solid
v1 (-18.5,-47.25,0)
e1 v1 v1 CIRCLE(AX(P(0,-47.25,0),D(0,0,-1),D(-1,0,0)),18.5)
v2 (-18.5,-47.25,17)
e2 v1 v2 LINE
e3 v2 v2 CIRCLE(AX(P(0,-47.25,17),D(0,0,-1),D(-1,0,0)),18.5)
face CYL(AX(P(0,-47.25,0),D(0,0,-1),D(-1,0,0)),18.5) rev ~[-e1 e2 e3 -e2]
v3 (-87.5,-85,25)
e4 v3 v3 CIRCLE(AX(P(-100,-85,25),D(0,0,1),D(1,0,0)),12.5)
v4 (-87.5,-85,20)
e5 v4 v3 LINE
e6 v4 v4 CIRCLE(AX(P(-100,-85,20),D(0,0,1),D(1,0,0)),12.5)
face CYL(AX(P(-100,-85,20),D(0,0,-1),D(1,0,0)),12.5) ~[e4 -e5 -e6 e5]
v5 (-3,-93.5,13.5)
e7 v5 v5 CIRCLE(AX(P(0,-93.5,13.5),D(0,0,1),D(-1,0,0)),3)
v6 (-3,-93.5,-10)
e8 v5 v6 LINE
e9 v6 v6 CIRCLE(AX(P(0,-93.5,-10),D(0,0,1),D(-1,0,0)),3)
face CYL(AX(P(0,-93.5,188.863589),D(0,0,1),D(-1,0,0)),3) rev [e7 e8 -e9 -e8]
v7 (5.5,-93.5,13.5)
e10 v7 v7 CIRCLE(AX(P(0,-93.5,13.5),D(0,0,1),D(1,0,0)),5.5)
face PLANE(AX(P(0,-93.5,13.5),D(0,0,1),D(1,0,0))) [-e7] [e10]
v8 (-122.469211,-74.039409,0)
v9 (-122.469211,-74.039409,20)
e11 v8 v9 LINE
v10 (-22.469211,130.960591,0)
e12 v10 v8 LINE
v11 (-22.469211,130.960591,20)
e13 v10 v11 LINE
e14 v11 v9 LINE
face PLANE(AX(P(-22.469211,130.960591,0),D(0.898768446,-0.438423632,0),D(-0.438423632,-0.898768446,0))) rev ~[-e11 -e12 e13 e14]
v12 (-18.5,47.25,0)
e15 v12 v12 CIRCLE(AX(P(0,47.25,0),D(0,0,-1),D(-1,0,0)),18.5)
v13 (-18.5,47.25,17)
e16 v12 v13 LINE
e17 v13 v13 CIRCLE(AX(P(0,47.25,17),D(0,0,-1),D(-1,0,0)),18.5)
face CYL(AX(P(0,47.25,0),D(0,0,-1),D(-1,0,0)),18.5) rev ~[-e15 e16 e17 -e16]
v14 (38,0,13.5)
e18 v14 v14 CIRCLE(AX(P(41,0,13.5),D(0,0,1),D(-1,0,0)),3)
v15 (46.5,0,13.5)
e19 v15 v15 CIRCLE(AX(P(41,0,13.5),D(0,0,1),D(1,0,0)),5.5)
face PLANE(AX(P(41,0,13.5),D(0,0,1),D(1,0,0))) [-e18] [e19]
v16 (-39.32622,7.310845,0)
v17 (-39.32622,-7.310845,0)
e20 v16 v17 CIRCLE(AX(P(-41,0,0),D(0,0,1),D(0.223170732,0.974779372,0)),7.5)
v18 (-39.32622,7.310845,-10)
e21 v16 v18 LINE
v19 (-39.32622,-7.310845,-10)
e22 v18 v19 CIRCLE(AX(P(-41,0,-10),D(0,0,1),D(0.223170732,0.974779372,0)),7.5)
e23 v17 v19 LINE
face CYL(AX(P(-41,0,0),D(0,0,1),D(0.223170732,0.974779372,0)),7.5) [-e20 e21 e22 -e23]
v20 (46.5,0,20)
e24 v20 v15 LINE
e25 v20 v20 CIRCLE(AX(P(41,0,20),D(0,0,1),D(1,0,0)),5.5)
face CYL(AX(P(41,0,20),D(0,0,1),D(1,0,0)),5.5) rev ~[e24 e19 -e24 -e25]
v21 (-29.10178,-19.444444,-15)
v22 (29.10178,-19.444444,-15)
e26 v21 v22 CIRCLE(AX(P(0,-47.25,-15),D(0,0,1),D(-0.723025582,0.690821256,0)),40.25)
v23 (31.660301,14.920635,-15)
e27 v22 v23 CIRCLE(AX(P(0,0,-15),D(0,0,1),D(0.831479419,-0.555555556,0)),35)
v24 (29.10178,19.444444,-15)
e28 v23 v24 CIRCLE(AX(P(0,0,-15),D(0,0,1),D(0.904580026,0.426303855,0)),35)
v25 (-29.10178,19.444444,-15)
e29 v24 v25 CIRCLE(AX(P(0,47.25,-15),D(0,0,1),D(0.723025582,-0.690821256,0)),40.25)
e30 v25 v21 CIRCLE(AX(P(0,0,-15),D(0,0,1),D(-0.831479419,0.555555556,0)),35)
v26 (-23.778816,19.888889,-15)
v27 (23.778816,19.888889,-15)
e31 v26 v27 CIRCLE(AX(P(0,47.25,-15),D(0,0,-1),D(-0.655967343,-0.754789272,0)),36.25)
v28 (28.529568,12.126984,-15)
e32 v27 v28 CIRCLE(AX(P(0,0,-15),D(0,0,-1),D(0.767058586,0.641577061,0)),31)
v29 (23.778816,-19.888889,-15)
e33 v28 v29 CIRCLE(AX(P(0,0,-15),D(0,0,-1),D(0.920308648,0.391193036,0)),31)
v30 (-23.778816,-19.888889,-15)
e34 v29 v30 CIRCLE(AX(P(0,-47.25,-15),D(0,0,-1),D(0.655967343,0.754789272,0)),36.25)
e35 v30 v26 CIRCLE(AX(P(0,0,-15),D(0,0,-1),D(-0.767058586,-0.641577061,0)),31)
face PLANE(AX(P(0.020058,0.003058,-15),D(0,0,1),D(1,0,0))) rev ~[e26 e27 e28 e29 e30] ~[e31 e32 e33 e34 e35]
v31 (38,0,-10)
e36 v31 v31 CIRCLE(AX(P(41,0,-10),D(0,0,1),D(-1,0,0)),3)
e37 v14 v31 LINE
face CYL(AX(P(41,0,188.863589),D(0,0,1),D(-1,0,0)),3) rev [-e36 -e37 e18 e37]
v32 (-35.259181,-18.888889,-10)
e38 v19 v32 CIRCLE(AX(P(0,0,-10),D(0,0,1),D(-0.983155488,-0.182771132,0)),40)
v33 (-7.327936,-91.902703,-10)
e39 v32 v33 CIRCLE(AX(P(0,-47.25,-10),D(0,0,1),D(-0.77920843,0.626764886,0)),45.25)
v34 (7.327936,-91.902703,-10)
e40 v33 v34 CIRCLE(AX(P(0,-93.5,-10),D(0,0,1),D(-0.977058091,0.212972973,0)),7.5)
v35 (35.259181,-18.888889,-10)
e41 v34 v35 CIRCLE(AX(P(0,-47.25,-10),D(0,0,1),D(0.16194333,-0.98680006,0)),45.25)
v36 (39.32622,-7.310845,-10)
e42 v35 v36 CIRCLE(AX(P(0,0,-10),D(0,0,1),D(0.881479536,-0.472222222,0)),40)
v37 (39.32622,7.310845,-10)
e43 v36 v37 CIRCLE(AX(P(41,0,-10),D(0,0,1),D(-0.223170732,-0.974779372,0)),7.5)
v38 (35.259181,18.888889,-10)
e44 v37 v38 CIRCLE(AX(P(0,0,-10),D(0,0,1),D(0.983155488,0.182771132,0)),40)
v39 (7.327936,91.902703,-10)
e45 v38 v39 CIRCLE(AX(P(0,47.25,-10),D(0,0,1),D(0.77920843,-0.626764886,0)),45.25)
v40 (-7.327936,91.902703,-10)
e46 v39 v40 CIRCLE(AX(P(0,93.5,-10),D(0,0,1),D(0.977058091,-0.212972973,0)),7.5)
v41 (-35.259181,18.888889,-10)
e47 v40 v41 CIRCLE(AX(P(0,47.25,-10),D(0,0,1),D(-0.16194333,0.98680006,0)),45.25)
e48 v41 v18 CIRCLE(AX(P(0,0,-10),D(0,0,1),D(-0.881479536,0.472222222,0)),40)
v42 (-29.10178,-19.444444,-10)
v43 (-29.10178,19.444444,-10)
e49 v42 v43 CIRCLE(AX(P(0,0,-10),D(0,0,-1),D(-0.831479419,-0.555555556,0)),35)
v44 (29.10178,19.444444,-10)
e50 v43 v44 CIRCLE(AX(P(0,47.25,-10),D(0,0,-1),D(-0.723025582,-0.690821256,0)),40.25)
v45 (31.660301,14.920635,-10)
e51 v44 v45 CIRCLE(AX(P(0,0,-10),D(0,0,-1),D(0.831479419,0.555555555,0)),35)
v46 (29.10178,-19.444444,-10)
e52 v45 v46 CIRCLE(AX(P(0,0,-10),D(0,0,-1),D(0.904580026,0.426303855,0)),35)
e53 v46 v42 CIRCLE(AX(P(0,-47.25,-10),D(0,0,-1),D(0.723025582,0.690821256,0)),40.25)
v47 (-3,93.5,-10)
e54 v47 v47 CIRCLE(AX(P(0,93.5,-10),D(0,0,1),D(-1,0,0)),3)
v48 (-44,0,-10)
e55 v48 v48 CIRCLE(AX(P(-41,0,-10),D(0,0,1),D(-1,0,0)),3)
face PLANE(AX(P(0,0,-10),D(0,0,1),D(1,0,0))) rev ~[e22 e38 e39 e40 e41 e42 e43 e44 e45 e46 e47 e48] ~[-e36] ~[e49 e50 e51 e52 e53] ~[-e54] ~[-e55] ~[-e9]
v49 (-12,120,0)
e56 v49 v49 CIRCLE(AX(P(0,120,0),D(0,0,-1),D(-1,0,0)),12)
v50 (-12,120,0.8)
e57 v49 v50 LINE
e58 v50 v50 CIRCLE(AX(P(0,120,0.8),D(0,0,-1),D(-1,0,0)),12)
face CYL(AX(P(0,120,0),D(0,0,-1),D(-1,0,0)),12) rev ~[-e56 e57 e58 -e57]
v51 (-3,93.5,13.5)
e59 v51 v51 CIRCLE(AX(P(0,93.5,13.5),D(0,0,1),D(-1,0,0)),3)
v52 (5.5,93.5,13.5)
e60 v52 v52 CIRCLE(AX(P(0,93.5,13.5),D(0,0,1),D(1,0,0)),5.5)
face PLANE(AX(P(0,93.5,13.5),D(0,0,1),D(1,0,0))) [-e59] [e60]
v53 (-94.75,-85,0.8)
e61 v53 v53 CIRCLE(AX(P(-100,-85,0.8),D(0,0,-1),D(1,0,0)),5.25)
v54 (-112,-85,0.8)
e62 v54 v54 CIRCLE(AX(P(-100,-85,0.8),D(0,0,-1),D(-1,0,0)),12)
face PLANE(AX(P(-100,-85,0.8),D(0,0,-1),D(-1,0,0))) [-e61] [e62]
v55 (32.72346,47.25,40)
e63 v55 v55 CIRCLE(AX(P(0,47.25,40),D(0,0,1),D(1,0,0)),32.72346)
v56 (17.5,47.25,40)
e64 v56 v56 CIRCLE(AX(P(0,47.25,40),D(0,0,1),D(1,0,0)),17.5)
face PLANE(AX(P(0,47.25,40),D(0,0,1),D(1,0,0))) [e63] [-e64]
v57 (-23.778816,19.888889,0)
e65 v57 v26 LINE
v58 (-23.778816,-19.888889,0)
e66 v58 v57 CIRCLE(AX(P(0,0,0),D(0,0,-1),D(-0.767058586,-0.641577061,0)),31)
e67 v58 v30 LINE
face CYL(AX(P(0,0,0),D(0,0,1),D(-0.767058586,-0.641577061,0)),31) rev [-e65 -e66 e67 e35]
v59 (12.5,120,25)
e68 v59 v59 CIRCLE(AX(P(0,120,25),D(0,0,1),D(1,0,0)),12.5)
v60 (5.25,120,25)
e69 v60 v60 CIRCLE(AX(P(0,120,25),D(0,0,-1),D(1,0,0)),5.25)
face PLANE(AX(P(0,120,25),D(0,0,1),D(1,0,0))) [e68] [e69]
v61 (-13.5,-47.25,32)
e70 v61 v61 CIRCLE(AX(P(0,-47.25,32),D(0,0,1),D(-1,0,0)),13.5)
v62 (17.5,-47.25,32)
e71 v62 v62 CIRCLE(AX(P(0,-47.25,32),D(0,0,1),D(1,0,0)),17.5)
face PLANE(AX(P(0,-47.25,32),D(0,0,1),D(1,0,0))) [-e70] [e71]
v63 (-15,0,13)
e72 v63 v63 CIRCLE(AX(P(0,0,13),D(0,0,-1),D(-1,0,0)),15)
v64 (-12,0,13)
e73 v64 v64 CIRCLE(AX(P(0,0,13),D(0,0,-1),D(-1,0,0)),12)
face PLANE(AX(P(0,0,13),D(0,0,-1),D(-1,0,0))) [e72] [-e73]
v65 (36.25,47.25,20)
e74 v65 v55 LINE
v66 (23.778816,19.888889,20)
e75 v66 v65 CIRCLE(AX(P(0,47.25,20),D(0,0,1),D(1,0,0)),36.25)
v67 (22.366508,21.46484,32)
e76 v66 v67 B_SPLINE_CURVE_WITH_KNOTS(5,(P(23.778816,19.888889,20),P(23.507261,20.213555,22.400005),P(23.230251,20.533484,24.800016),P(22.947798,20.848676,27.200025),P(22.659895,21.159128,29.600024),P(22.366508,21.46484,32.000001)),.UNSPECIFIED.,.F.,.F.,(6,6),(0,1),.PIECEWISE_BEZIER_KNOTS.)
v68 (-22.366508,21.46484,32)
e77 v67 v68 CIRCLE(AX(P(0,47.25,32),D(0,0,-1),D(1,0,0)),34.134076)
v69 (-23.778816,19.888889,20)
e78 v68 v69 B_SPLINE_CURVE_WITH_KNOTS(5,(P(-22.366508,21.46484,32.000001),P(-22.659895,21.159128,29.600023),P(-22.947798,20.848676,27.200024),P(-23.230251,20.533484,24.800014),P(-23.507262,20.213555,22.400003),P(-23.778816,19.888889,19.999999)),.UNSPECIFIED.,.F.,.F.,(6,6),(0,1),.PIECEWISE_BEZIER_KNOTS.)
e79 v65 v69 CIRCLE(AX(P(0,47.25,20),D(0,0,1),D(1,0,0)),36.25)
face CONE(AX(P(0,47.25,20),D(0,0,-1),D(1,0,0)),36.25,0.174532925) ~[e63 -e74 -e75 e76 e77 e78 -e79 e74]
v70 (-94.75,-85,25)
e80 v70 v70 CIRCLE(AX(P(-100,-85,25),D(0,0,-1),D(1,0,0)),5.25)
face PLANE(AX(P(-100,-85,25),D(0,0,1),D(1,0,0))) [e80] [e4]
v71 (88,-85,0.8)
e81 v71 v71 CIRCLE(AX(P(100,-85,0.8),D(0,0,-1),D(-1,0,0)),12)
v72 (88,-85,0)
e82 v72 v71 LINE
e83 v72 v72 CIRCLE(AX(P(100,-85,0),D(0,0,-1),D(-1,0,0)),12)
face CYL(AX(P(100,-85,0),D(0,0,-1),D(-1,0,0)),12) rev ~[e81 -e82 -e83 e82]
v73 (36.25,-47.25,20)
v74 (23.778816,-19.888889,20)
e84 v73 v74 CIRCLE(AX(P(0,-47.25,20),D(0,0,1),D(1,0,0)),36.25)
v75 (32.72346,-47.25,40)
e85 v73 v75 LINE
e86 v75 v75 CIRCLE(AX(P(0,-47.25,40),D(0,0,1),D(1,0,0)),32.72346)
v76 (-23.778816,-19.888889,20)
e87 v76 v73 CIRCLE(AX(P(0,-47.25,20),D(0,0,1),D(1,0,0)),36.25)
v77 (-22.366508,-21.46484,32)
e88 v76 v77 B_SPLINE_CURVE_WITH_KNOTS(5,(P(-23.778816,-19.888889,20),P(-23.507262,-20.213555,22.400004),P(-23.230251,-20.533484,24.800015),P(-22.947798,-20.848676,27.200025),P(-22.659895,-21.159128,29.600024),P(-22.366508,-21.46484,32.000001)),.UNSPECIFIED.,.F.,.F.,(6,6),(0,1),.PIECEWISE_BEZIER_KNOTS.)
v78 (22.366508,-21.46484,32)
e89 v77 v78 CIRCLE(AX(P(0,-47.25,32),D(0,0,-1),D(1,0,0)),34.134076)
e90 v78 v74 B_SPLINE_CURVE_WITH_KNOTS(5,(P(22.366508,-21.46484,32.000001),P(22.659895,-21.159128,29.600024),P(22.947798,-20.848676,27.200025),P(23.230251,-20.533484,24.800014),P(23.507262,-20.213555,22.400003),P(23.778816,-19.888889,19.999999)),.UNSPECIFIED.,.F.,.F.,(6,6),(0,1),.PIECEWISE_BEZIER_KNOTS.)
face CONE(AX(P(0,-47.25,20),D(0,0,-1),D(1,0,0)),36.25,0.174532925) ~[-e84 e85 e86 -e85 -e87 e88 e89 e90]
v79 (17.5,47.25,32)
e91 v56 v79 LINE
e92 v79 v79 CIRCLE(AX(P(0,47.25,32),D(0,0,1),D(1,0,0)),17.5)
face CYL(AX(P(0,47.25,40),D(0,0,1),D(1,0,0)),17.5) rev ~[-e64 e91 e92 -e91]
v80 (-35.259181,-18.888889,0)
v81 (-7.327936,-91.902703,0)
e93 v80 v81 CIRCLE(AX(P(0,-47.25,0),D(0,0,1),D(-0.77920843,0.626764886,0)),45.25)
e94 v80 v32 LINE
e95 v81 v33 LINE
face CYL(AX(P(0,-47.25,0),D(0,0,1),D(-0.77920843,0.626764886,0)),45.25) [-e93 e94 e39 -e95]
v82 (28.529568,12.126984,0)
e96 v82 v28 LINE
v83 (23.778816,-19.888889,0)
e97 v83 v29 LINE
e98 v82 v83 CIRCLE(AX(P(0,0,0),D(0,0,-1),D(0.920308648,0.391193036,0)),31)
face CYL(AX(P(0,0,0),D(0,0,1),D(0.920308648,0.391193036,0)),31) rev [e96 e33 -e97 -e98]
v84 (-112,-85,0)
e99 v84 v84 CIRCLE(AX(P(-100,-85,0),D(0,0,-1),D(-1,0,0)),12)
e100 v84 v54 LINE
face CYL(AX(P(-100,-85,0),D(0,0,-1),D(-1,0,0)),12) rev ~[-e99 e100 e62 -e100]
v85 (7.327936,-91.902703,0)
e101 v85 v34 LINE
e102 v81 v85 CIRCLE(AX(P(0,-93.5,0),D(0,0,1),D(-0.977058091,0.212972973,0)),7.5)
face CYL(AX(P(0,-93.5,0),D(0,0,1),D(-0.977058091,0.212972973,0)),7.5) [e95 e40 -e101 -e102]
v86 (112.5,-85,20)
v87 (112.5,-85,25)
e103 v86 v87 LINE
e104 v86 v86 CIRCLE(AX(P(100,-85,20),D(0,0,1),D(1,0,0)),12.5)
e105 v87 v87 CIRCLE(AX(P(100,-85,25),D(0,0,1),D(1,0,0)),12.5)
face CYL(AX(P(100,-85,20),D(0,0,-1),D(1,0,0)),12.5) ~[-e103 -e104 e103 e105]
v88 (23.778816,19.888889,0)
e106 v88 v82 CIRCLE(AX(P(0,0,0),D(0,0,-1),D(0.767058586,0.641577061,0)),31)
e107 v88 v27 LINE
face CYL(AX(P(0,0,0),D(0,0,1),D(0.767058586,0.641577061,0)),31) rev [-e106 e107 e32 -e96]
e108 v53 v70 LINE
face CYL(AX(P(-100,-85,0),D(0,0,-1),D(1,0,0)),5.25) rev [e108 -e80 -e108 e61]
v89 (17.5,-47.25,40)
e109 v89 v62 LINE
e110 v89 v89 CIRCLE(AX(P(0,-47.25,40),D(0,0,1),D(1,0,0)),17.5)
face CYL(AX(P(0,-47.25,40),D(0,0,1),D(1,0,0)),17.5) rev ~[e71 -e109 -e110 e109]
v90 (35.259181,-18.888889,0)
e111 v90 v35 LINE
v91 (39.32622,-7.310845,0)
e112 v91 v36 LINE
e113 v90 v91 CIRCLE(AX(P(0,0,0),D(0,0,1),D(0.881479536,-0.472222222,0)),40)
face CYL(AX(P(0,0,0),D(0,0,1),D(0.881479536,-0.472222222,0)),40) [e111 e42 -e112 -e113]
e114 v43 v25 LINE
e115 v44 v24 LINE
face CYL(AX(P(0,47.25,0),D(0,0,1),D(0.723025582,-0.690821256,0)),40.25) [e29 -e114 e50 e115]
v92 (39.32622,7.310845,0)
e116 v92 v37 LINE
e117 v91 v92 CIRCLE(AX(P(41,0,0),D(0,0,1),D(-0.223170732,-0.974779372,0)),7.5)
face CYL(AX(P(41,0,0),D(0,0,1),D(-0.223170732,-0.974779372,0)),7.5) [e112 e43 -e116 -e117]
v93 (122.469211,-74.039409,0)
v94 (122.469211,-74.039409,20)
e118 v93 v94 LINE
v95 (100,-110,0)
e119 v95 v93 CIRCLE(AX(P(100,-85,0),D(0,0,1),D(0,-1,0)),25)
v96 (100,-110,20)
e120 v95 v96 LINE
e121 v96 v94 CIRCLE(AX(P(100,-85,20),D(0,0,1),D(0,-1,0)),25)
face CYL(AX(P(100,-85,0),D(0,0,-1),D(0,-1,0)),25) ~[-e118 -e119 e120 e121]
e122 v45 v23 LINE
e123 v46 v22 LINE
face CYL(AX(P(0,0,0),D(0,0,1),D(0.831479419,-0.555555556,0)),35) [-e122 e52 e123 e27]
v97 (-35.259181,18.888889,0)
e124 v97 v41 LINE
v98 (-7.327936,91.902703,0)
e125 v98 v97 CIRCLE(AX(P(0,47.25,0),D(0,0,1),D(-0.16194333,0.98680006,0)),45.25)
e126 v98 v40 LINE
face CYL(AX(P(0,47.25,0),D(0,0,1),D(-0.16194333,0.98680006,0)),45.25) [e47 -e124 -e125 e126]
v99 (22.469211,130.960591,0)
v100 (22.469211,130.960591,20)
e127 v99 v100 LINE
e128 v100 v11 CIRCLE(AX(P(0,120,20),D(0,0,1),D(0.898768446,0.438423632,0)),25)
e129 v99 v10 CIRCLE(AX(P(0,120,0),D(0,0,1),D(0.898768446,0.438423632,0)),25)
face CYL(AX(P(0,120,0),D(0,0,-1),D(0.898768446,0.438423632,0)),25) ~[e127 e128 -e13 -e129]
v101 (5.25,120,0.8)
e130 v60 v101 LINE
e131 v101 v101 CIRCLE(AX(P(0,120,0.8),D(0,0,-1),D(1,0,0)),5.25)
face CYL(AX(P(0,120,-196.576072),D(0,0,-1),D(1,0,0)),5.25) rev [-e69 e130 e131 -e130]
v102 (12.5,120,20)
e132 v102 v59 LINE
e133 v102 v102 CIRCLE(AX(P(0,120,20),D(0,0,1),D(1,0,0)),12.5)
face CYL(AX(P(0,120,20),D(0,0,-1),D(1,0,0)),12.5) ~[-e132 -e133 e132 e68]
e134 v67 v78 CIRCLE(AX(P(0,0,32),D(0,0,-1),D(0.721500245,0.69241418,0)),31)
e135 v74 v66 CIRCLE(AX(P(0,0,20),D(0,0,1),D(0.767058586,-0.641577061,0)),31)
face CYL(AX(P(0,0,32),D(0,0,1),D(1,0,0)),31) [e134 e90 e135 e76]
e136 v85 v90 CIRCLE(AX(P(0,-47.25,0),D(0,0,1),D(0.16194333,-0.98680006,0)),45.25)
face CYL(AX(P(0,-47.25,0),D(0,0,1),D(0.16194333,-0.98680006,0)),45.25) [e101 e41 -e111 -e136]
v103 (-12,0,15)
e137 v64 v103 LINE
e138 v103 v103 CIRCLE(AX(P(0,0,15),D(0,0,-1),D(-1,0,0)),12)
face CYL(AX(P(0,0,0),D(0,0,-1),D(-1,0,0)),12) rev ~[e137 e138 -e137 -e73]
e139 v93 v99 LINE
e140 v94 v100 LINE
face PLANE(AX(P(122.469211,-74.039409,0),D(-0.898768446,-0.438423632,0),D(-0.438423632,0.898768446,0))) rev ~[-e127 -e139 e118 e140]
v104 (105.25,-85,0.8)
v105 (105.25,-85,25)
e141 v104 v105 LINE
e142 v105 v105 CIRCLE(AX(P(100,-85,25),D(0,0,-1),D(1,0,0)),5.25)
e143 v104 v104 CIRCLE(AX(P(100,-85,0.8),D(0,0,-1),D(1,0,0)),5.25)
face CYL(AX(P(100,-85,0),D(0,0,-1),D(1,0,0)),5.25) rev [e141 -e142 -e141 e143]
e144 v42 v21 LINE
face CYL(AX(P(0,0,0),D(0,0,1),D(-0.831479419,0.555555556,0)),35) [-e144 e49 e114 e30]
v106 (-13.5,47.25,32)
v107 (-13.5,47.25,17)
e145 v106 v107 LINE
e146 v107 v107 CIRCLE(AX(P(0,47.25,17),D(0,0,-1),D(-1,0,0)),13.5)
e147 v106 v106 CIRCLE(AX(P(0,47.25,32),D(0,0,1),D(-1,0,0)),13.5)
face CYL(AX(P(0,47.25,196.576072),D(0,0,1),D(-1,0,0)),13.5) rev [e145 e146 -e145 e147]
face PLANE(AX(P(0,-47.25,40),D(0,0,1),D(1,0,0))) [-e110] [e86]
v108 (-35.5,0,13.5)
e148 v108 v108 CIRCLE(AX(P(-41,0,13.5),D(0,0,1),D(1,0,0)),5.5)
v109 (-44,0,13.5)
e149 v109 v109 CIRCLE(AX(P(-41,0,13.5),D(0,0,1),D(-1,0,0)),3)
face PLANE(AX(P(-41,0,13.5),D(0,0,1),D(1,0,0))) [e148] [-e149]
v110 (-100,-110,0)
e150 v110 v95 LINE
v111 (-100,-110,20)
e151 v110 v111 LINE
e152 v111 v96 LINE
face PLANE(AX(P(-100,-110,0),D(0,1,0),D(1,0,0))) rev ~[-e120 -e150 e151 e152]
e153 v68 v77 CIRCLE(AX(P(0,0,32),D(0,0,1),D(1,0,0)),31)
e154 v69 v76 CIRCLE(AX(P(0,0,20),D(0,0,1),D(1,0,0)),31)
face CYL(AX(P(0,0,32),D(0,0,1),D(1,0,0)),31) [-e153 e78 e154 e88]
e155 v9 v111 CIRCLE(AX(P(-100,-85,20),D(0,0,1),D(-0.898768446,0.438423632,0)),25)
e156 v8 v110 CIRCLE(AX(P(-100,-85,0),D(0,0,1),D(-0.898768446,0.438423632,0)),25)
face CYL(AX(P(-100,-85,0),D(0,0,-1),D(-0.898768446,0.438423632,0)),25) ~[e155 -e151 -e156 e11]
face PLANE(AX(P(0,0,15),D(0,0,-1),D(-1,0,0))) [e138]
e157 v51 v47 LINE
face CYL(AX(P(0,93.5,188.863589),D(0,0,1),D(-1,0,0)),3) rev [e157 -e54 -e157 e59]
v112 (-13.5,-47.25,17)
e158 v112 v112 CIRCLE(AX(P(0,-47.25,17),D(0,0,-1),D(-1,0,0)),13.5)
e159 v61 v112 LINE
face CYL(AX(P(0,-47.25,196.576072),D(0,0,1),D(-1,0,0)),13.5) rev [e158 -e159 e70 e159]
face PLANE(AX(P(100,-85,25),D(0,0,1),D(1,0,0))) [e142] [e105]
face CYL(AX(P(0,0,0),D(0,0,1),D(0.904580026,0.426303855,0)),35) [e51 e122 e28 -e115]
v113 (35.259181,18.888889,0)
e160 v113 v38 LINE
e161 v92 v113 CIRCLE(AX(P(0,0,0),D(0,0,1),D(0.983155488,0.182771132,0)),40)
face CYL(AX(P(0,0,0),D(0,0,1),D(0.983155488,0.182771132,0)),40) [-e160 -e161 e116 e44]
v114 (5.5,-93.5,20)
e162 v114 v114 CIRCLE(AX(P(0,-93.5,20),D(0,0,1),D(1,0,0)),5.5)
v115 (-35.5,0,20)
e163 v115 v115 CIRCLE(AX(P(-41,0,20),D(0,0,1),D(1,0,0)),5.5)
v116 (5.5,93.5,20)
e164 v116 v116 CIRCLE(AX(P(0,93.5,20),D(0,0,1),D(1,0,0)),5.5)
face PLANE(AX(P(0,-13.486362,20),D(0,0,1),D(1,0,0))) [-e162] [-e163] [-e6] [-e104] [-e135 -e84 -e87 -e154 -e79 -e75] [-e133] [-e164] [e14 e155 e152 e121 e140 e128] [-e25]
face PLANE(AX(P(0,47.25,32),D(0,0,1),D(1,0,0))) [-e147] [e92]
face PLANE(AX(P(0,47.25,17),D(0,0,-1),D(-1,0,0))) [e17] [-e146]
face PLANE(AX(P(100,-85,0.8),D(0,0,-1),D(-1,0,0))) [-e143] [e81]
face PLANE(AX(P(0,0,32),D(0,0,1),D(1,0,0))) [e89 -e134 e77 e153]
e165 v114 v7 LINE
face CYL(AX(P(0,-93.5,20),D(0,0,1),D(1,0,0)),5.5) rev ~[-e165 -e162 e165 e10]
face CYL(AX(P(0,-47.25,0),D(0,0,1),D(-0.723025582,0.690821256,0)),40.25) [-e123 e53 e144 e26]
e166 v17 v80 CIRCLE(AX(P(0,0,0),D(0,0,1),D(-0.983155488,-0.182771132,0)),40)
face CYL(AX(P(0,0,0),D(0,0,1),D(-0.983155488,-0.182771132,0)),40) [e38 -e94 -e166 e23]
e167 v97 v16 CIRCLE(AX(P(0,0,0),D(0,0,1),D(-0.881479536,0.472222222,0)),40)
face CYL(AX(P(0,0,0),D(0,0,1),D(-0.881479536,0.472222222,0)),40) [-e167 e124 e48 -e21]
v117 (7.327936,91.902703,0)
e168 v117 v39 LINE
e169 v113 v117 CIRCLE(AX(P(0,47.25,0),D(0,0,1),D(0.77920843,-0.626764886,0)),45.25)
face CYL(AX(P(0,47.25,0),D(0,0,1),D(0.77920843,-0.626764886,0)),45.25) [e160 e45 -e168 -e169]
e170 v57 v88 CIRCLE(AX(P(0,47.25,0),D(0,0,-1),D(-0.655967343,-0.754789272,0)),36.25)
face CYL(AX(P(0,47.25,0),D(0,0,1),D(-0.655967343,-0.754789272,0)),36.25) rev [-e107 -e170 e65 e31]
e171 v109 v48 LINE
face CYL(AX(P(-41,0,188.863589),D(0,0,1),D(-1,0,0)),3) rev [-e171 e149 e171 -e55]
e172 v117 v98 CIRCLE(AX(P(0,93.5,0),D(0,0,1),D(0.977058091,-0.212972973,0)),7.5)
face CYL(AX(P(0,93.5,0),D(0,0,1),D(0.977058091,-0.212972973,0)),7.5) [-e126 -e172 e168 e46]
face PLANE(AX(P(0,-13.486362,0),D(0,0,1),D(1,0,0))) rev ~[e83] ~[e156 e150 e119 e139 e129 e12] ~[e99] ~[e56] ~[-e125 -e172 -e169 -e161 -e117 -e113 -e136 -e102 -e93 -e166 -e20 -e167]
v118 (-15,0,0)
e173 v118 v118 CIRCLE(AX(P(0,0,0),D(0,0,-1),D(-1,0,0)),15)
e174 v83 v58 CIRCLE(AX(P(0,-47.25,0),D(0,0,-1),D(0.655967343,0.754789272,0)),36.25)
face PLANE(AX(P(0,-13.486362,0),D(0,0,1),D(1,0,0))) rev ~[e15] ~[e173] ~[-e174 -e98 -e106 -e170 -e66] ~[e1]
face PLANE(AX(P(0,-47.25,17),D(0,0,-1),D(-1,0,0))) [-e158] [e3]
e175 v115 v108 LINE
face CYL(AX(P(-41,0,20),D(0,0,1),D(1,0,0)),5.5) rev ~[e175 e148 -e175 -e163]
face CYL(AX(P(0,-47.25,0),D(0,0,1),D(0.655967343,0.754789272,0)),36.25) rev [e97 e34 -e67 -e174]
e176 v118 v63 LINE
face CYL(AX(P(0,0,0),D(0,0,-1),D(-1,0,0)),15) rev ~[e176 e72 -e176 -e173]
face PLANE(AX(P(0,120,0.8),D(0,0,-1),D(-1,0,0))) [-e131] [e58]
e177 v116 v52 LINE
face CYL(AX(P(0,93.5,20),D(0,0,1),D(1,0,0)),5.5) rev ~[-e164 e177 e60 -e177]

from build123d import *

# Parameters (mm, degrees)
SKETCH1_R                     = 5.25
BOSS_EXTRUDE1_DEPTH           = 20
BOSS_EXTRUDE2_DEPTH           = 10
BOSS_EXTRUDE3_DEPTH           = 15
SKETCH4_R                     = 36.25
BOSS_EXTRUDE4_DEPTH           = 20
BOSS_EXTRUDE4_DRAFT           = 10
BOSS_EXTRUDE4_PROFILE_2_DEPTH = 20
BOSS_EXTRUDE4_PROFILE_2_DRAFT = 10
SKETCH5_R                     = 12.5
BOSS_EXTRUDE5_DEPTH           = 5
CUT_EXTRUDE1_DEPTH            = 196.576072156
CUT_EXTRUDE1_DEPTH_BACK       = 196.576072156
SKETCH1_2_R                   = 5.25
BOSS_EXTRUDE6_START           = 12
SKETCH6_R                     = 31
BOSS_EXTRUDE6_DEPTH           = 12
CUT_EXTRUDE2_DEPTH            = 196.576072177
CUT_EXTRUDE2_DEPTH_BACK       = 196.576072177
SKETCH3_R                     = 13.5
SKETCH3_4_R                   = 18.5
SKETCH3_4_R_2                 = 13.5
CUT_EXTRUDE3_DEPTH            = 17
SKETCH3_5_R                   = 12
CUT_EXTRUDE4_DEPTH            = 15
SKETCH3_6_R                   = 15
SKETCH3_6_R_2                 = 12
CUT_EXTRUDE5_DEPTH            = 13
SKETCH7_R                     = 17.5
CUT_EXTRUDE6_DEPTH            = 8
CUT_EXTRUDE7_DEPTH            = 198.863589399
CUT_EXTRUDE7_DEPTH_BACK       = 198.863589399
SKETCH8_R                     = 3
SKETCH9_R                     = 5.5
CUT_EXTRUDE8_DEPTH            = 6.5
SKETCH10_R                    = 12
CUT_EXTRUDE9_DEPTH            = 0.8


with BuildPart() as part:
    # Sketch1 → Boss-Extrude1 (new body)
    with BuildSketch(Plane.XY):
        with BuildLine():
            Line((-22.469211141, 130.960590801), (-122.469211141, -74.039409199))
            ThreePointArc((-122.469211141, -74.039409199), (-121.201589209, -98.247362567), (-100, -110))
            Line((-100, -110), (100, -110))
            ThreePointArc((100, -110), (121.201589209, -98.247362567), (122.469211141, -74.039409199))
            Line((122.469211141, -74.039409199), (22.469211141, 130.960590801))
            ThreePointArc((22.469211141, 130.960590801), (0, 145), (-22.469211141, 130.960590801))
        make_face()
        with Locations((0, 120)):
            Circle(SKETCH1_R, mode=Mode.SUBTRACT)
        with Locations((-100, -85)):
            Circle(SKETCH1_R, mode=Mode.SUBTRACT)
        with Locations((100, -85)):
            Circle(SKETCH1_R, mode=Mode.SUBTRACT)
    extrude(amount=BOSS_EXTRUDE1_DEPTH)

    # Sketch2 → Boss-Extrude2 (add)
    with BuildSketch(Plane.XY):
        with BuildLine():
            ThreePointArc((35.25918145, 18.888888889), (42.263103155, 63.417640882), (7.327935681, 91.902702703))
            ThreePointArc((7.327935681, 91.902702703), (0, 101), (-7.327935681, 91.902702703))
            ThreePointArc((-7.327935681, 91.902702703), (-42.263103155, 63.417640882), (-35.25918145, 18.888888889))
            ThreePointArc((-35.25918145, 18.888888889), (-37.73934661, 13.256761197), (-39.326219512, 7.310845292))
            ThreePointArc((-39.326219512, 7.310845292), (-48.5, 0), (-39.326219512, -7.310845292))
            ThreePointArc((-39.326219512, -7.310845292), (-37.73934661, -13.256761197), (-35.25918145, -18.888888889))
            ThreePointArc((-35.25918145, -18.888888889), (-42.263103155, -63.417640882), (-7.327935681, -91.902702703))
            ThreePointArc((-7.327935681, -91.902702703), (0, -101), (7.327935681, -91.902702703))
            ThreePointArc((7.327935681, -91.902702703), (42.263103155, -63.417640882), (35.25918145, -18.888888889))
            ThreePointArc((35.25918145, -18.888888889), (37.73934661, -13.256761197), (39.326219512, -7.310845292))
            ThreePointArc((39.326219512, -7.310845292), (48.5, 0), (39.326219512, 7.310845292))
            ThreePointArc((39.326219512, 7.310845292), (37.73934661, 13.256761197), (35.25918145, 18.888888889))
        make_face()
        with BuildLine():
            ThreePointArc((29.101779675, 19.444444444), (30.465124689, 17.230095115), (31.660300908, 14.920634921))
            ThreePointArc((31.660300908, 14.920634921), (34.903399249, -2.598599792), (29.101779675, -19.444444444))
            ThreePointArc((29.101779675, -19.444444444), (0, -87.5), (-29.101779675, -19.444444444))
            ThreePointArc((-29.101779675, -19.444444444), (-35, 0), (-29.101779675, 19.444444444))
            ThreePointArc((-29.101779675, 19.444444444), (0, 87.5), (29.101779675, 19.444444444))
        make_face(mode=Mode.SUBTRACT)
    extrude(amount=-BOSS_EXTRUDE2_DEPTH)

    # Sketch2<3> → Boss-Extrude3 (add)
    with BuildSketch(Plane.XY):
        with BuildLine():
            ThreePointArc((29.101779675, -19.444444444), (34.903399249, -2.598599792), (31.660300908, 14.920634921))
            ThreePointArc((31.660300908, 14.920634921), (30.465124689, 17.230095115), (29.101779675, 19.444444444))
            ThreePointArc((29.101779675, 19.444444444), (0, 87.5), (-29.101779675, 19.444444444))
            ThreePointArc((-29.101779675, 19.444444444), (-35, 0), (-29.101779675, -19.444444444))
            ThreePointArc((-29.101779675, -19.444444444), (0, -87.5), (29.101779675, -19.444444444))
        make_face()
        with BuildLine():
            ThreePointArc((-23.778816177, 19.888888889), (0, 83.5), (23.778816177, 19.888888889))
            ThreePointArc((23.778816177, 19.888888889), (26.440566518, 16.183214829), (28.5295681, 12.126984127))
            ThreePointArc((28.5295681, 12.126984127), (30.664242982, -4.550187067), (23.778816177, -19.888888889))
            ThreePointArc((23.778816177, -19.888888889), (0, -83.5), (-23.778816177, -19.888888889))
            ThreePointArc((-23.778816177, -19.888888889), (-31, 0), (-23.778816177, 19.888888889))
        make_face(mode=Mode.SUBTRACT)
    extrude(amount=-BOSS_EXTRUDE3_DEPTH)


with BuildPart() as boss_extrude4_tool:
    # Sketch4 → Boss-Extrude4 (with draft: the straight prism first)
    with BuildSketch(Plane.XY.offset(20)):
        with Locations((0, 47.25)):
            Circle(SKETCH4_R)
    extrude(amount=BOSS_EXTRUDE4_DEPTH)
    # Boss-Extrude4: the draft: its side faces are tilted about the plane it starts from
    boss_extrude4_sides = [boss_extrude4_tool.faces().sort_by_distance(p)[0] for p in [
        (-36.25, 47.25, 30),
    ]]
    draft(boss_extrude4_sides, Plane.XY.offset(20), BOSS_EXTRUDE4_DRAFT)


with BuildPart() as part_1:
    add(part.part)

    # Boss-Extrude4: add boss_extrude4_tool
    add(boss_extrude4_tool.part)


with BuildPart() as boss_extrude4_profile_2_tool:
    # Sketch4 → Boss-Extrude4 profile 2 (with draft: the straight prism first)
    with BuildSketch(Plane.XY.offset(20)):
        with Locations((0, -47.25)):
            Circle(SKETCH4_R)
    extrude(amount=BOSS_EXTRUDE4_PROFILE_2_DEPTH)
    # Boss-Extrude4 profile 2: the draft: its side faces are tilted about the plane it starts from
    boss_extrude4_profile_2_sides = [boss_extrude4_profile_2_tool.faces().sort_by_distance(p)[0] for p in [
        (-36.25, -47.25, 30),
    ]]
    draft(boss_extrude4_profile_2_sides, Plane.XY.offset(20), BOSS_EXTRUDE4_PROFILE_2_DRAFT)


with BuildPart() as part_2:
    add(part_1.part)

    # Boss-Extrude4 profile 2: add boss_extrude4_profile_2_tool
    add(boss_extrude4_profile_2_tool.part)

    # Sketch5 → Boss-Extrude5 (add)
    with BuildSketch(Plane.XY.offset(20)):
        with Locations((0, 120)):
            Circle(SKETCH5_R)
        with Locations((-100, -85)):
            Circle(SKETCH5_R)
        with Locations((100, -85)):
            Circle(SKETCH5_R)
    extrude(amount=BOSS_EXTRUDE5_DEPTH)

    # Sketch1<2> → Cut-Extrude1 (cut, two sides: drawn at the far end of the back side and taken through both)
    with BuildSketch(Plane.XY.offset(-CUT_EXTRUDE1_DEPTH_BACK)):
        with Locations((0, 120)):
            Circle(SKETCH1_2_R)
        with Locations((-100, -85)):
            Circle(SKETCH1_2_R)
        with Locations((100, -85)):
            Circle(SKETCH1_2_R)
    extrude(amount=CUT_EXTRUDE1_DEPTH + CUT_EXTRUDE1_DEPTH_BACK, mode=Mode.SUBTRACT)

    # Sketch6 → Boss-Extrude6 (add)
    with BuildSketch(Plane.XY.offset(20).offset(BOSS_EXTRUDE6_START)):
        Circle(SKETCH6_R)
    extrude(amount=-BOSS_EXTRUDE6_DEPTH)

    # Sketch3 → Cut-Extrude2 (cut, two sides: drawn at the far end of the back side and taken through both)
    with BuildSketch(Plane(origin=(0, 0, 0), x_dir=(-1, 0, 0), z_dir=(0, 0, -1)).offset(-CUT_EXTRUDE2_DEPTH_BACK)):
        with Locations((0, 47.25)):
            Circle(SKETCH3_R)
        with Locations((0, -47.25)):
            Circle(SKETCH3_R)
    extrude(amount=CUT_EXTRUDE2_DEPTH + CUT_EXTRUDE2_DEPTH_BACK, mode=Mode.SUBTRACT)

    # Sketch3<4> → Cut-Extrude3 (cut)
    # profile 1 of 2: a face of its own
    with BuildSketch(Plane(origin=(0, 0, 0), x_dir=(-1, 0, 0), z_dir=(0, 0, -1))):
        with Locations((0, 47.25)):
            Circle(SKETCH3_4_R)
        with Locations((0, 47.25)):
            Circle(SKETCH3_4_R_2, mode=Mode.SUBTRACT)
    # profile 2 of 2: a face of its own
    with BuildSketch(Plane(origin=(0, 0, 0), x_dir=(-1, 0, 0), z_dir=(0, 0, -1))):
        with Locations((0, -47.25)):
            Circle(SKETCH3_4_R)
        with Locations((0, -47.25)):
            Circle(SKETCH3_4_R_2, mode=Mode.SUBTRACT)
    extrude(amount=-CUT_EXTRUDE3_DEPTH, mode=Mode.SUBTRACT)

    # Sketch3<5> → Cut-Extrude4 (cut)
    with BuildSketch(Plane(origin=(0, 0, 0), x_dir=(-1, 0, 0), z_dir=(0, 0, -1))):
        Circle(SKETCH3_5_R)
    extrude(amount=-CUT_EXTRUDE4_DEPTH, mode=Mode.SUBTRACT)

    # Sketch3<6> → Cut-Extrude5 (cut)
    with BuildSketch(Plane(origin=(0, 0, 0), x_dir=(-1, 0, 0), z_dir=(0, 0, -1))):
        Circle(SKETCH3_6_R)
        Circle(SKETCH3_6_R_2, mode=Mode.SUBTRACT)
    extrude(amount=-CUT_EXTRUDE5_DEPTH, mode=Mode.SUBTRACT)

    # Sketch7 → Cut-Extrude6 (cut)
    with BuildSketch(Plane.XY.offset(40)):
        with Locations((0, 47.25)):
            Circle(SKETCH7_R)
        with Locations((0, -47.25)):
            Circle(SKETCH7_R)
    extrude(amount=-CUT_EXTRUDE6_DEPTH, mode=Mode.SUBTRACT)

    # Sketch8 → Cut-Extrude7 (cut, two sides: drawn at the far end of the back side and taken through both)
    with BuildSketch(Plane(origin=(0, 0, -10), x_dir=(-1, 0, 0), z_dir=(0, 0, -1)).offset(-CUT_EXTRUDE7_DEPTH_BACK)):
        with Locations((0, 93.5)):
            Circle(SKETCH8_R)
        with Locations((41, 0)):
            Circle(SKETCH8_R)
        with Locations((0, -93.5)):
            Circle(SKETCH8_R)
        with Locations((-41, 0)):
            Circle(SKETCH8_R)
    extrude(amount=CUT_EXTRUDE7_DEPTH + CUT_EXTRUDE7_DEPTH_BACK, mode=Mode.SUBTRACT)

    # Sketch9 → Cut-Extrude8 (cut)
    with BuildSketch(Plane.XY.offset(20)):
        with Locations((0, 93.5)):
            Circle(SKETCH9_R)
        with Locations((-41, 0)):
            Circle(SKETCH9_R)
        with Locations((41, 0)):
            Circle(SKETCH9_R)
        with Locations((0, -93.5)):
            Circle(SKETCH9_R)
    extrude(amount=-CUT_EXTRUDE8_DEPTH, mode=Mode.SUBTRACT)

    # Sketch10 → Cut-Extrude9 (cut)
    with BuildSketch(Plane(origin=(0, 0, 0), x_dir=(-1, 0, 0), z_dir=(0, 0, -1))):
        with Locations((0, 120)):
            Circle(SKETCH10_R)
        with Locations((100, -85)):
            Circle(SKETCH10_R)
        with Locations((-100, -85)):
            Circle(SKETCH10_R)
    extrude(amount=-CUT_EXTRUDE9_DEPTH, mode=Mode.SUBTRACT)


solid = part_2.part
